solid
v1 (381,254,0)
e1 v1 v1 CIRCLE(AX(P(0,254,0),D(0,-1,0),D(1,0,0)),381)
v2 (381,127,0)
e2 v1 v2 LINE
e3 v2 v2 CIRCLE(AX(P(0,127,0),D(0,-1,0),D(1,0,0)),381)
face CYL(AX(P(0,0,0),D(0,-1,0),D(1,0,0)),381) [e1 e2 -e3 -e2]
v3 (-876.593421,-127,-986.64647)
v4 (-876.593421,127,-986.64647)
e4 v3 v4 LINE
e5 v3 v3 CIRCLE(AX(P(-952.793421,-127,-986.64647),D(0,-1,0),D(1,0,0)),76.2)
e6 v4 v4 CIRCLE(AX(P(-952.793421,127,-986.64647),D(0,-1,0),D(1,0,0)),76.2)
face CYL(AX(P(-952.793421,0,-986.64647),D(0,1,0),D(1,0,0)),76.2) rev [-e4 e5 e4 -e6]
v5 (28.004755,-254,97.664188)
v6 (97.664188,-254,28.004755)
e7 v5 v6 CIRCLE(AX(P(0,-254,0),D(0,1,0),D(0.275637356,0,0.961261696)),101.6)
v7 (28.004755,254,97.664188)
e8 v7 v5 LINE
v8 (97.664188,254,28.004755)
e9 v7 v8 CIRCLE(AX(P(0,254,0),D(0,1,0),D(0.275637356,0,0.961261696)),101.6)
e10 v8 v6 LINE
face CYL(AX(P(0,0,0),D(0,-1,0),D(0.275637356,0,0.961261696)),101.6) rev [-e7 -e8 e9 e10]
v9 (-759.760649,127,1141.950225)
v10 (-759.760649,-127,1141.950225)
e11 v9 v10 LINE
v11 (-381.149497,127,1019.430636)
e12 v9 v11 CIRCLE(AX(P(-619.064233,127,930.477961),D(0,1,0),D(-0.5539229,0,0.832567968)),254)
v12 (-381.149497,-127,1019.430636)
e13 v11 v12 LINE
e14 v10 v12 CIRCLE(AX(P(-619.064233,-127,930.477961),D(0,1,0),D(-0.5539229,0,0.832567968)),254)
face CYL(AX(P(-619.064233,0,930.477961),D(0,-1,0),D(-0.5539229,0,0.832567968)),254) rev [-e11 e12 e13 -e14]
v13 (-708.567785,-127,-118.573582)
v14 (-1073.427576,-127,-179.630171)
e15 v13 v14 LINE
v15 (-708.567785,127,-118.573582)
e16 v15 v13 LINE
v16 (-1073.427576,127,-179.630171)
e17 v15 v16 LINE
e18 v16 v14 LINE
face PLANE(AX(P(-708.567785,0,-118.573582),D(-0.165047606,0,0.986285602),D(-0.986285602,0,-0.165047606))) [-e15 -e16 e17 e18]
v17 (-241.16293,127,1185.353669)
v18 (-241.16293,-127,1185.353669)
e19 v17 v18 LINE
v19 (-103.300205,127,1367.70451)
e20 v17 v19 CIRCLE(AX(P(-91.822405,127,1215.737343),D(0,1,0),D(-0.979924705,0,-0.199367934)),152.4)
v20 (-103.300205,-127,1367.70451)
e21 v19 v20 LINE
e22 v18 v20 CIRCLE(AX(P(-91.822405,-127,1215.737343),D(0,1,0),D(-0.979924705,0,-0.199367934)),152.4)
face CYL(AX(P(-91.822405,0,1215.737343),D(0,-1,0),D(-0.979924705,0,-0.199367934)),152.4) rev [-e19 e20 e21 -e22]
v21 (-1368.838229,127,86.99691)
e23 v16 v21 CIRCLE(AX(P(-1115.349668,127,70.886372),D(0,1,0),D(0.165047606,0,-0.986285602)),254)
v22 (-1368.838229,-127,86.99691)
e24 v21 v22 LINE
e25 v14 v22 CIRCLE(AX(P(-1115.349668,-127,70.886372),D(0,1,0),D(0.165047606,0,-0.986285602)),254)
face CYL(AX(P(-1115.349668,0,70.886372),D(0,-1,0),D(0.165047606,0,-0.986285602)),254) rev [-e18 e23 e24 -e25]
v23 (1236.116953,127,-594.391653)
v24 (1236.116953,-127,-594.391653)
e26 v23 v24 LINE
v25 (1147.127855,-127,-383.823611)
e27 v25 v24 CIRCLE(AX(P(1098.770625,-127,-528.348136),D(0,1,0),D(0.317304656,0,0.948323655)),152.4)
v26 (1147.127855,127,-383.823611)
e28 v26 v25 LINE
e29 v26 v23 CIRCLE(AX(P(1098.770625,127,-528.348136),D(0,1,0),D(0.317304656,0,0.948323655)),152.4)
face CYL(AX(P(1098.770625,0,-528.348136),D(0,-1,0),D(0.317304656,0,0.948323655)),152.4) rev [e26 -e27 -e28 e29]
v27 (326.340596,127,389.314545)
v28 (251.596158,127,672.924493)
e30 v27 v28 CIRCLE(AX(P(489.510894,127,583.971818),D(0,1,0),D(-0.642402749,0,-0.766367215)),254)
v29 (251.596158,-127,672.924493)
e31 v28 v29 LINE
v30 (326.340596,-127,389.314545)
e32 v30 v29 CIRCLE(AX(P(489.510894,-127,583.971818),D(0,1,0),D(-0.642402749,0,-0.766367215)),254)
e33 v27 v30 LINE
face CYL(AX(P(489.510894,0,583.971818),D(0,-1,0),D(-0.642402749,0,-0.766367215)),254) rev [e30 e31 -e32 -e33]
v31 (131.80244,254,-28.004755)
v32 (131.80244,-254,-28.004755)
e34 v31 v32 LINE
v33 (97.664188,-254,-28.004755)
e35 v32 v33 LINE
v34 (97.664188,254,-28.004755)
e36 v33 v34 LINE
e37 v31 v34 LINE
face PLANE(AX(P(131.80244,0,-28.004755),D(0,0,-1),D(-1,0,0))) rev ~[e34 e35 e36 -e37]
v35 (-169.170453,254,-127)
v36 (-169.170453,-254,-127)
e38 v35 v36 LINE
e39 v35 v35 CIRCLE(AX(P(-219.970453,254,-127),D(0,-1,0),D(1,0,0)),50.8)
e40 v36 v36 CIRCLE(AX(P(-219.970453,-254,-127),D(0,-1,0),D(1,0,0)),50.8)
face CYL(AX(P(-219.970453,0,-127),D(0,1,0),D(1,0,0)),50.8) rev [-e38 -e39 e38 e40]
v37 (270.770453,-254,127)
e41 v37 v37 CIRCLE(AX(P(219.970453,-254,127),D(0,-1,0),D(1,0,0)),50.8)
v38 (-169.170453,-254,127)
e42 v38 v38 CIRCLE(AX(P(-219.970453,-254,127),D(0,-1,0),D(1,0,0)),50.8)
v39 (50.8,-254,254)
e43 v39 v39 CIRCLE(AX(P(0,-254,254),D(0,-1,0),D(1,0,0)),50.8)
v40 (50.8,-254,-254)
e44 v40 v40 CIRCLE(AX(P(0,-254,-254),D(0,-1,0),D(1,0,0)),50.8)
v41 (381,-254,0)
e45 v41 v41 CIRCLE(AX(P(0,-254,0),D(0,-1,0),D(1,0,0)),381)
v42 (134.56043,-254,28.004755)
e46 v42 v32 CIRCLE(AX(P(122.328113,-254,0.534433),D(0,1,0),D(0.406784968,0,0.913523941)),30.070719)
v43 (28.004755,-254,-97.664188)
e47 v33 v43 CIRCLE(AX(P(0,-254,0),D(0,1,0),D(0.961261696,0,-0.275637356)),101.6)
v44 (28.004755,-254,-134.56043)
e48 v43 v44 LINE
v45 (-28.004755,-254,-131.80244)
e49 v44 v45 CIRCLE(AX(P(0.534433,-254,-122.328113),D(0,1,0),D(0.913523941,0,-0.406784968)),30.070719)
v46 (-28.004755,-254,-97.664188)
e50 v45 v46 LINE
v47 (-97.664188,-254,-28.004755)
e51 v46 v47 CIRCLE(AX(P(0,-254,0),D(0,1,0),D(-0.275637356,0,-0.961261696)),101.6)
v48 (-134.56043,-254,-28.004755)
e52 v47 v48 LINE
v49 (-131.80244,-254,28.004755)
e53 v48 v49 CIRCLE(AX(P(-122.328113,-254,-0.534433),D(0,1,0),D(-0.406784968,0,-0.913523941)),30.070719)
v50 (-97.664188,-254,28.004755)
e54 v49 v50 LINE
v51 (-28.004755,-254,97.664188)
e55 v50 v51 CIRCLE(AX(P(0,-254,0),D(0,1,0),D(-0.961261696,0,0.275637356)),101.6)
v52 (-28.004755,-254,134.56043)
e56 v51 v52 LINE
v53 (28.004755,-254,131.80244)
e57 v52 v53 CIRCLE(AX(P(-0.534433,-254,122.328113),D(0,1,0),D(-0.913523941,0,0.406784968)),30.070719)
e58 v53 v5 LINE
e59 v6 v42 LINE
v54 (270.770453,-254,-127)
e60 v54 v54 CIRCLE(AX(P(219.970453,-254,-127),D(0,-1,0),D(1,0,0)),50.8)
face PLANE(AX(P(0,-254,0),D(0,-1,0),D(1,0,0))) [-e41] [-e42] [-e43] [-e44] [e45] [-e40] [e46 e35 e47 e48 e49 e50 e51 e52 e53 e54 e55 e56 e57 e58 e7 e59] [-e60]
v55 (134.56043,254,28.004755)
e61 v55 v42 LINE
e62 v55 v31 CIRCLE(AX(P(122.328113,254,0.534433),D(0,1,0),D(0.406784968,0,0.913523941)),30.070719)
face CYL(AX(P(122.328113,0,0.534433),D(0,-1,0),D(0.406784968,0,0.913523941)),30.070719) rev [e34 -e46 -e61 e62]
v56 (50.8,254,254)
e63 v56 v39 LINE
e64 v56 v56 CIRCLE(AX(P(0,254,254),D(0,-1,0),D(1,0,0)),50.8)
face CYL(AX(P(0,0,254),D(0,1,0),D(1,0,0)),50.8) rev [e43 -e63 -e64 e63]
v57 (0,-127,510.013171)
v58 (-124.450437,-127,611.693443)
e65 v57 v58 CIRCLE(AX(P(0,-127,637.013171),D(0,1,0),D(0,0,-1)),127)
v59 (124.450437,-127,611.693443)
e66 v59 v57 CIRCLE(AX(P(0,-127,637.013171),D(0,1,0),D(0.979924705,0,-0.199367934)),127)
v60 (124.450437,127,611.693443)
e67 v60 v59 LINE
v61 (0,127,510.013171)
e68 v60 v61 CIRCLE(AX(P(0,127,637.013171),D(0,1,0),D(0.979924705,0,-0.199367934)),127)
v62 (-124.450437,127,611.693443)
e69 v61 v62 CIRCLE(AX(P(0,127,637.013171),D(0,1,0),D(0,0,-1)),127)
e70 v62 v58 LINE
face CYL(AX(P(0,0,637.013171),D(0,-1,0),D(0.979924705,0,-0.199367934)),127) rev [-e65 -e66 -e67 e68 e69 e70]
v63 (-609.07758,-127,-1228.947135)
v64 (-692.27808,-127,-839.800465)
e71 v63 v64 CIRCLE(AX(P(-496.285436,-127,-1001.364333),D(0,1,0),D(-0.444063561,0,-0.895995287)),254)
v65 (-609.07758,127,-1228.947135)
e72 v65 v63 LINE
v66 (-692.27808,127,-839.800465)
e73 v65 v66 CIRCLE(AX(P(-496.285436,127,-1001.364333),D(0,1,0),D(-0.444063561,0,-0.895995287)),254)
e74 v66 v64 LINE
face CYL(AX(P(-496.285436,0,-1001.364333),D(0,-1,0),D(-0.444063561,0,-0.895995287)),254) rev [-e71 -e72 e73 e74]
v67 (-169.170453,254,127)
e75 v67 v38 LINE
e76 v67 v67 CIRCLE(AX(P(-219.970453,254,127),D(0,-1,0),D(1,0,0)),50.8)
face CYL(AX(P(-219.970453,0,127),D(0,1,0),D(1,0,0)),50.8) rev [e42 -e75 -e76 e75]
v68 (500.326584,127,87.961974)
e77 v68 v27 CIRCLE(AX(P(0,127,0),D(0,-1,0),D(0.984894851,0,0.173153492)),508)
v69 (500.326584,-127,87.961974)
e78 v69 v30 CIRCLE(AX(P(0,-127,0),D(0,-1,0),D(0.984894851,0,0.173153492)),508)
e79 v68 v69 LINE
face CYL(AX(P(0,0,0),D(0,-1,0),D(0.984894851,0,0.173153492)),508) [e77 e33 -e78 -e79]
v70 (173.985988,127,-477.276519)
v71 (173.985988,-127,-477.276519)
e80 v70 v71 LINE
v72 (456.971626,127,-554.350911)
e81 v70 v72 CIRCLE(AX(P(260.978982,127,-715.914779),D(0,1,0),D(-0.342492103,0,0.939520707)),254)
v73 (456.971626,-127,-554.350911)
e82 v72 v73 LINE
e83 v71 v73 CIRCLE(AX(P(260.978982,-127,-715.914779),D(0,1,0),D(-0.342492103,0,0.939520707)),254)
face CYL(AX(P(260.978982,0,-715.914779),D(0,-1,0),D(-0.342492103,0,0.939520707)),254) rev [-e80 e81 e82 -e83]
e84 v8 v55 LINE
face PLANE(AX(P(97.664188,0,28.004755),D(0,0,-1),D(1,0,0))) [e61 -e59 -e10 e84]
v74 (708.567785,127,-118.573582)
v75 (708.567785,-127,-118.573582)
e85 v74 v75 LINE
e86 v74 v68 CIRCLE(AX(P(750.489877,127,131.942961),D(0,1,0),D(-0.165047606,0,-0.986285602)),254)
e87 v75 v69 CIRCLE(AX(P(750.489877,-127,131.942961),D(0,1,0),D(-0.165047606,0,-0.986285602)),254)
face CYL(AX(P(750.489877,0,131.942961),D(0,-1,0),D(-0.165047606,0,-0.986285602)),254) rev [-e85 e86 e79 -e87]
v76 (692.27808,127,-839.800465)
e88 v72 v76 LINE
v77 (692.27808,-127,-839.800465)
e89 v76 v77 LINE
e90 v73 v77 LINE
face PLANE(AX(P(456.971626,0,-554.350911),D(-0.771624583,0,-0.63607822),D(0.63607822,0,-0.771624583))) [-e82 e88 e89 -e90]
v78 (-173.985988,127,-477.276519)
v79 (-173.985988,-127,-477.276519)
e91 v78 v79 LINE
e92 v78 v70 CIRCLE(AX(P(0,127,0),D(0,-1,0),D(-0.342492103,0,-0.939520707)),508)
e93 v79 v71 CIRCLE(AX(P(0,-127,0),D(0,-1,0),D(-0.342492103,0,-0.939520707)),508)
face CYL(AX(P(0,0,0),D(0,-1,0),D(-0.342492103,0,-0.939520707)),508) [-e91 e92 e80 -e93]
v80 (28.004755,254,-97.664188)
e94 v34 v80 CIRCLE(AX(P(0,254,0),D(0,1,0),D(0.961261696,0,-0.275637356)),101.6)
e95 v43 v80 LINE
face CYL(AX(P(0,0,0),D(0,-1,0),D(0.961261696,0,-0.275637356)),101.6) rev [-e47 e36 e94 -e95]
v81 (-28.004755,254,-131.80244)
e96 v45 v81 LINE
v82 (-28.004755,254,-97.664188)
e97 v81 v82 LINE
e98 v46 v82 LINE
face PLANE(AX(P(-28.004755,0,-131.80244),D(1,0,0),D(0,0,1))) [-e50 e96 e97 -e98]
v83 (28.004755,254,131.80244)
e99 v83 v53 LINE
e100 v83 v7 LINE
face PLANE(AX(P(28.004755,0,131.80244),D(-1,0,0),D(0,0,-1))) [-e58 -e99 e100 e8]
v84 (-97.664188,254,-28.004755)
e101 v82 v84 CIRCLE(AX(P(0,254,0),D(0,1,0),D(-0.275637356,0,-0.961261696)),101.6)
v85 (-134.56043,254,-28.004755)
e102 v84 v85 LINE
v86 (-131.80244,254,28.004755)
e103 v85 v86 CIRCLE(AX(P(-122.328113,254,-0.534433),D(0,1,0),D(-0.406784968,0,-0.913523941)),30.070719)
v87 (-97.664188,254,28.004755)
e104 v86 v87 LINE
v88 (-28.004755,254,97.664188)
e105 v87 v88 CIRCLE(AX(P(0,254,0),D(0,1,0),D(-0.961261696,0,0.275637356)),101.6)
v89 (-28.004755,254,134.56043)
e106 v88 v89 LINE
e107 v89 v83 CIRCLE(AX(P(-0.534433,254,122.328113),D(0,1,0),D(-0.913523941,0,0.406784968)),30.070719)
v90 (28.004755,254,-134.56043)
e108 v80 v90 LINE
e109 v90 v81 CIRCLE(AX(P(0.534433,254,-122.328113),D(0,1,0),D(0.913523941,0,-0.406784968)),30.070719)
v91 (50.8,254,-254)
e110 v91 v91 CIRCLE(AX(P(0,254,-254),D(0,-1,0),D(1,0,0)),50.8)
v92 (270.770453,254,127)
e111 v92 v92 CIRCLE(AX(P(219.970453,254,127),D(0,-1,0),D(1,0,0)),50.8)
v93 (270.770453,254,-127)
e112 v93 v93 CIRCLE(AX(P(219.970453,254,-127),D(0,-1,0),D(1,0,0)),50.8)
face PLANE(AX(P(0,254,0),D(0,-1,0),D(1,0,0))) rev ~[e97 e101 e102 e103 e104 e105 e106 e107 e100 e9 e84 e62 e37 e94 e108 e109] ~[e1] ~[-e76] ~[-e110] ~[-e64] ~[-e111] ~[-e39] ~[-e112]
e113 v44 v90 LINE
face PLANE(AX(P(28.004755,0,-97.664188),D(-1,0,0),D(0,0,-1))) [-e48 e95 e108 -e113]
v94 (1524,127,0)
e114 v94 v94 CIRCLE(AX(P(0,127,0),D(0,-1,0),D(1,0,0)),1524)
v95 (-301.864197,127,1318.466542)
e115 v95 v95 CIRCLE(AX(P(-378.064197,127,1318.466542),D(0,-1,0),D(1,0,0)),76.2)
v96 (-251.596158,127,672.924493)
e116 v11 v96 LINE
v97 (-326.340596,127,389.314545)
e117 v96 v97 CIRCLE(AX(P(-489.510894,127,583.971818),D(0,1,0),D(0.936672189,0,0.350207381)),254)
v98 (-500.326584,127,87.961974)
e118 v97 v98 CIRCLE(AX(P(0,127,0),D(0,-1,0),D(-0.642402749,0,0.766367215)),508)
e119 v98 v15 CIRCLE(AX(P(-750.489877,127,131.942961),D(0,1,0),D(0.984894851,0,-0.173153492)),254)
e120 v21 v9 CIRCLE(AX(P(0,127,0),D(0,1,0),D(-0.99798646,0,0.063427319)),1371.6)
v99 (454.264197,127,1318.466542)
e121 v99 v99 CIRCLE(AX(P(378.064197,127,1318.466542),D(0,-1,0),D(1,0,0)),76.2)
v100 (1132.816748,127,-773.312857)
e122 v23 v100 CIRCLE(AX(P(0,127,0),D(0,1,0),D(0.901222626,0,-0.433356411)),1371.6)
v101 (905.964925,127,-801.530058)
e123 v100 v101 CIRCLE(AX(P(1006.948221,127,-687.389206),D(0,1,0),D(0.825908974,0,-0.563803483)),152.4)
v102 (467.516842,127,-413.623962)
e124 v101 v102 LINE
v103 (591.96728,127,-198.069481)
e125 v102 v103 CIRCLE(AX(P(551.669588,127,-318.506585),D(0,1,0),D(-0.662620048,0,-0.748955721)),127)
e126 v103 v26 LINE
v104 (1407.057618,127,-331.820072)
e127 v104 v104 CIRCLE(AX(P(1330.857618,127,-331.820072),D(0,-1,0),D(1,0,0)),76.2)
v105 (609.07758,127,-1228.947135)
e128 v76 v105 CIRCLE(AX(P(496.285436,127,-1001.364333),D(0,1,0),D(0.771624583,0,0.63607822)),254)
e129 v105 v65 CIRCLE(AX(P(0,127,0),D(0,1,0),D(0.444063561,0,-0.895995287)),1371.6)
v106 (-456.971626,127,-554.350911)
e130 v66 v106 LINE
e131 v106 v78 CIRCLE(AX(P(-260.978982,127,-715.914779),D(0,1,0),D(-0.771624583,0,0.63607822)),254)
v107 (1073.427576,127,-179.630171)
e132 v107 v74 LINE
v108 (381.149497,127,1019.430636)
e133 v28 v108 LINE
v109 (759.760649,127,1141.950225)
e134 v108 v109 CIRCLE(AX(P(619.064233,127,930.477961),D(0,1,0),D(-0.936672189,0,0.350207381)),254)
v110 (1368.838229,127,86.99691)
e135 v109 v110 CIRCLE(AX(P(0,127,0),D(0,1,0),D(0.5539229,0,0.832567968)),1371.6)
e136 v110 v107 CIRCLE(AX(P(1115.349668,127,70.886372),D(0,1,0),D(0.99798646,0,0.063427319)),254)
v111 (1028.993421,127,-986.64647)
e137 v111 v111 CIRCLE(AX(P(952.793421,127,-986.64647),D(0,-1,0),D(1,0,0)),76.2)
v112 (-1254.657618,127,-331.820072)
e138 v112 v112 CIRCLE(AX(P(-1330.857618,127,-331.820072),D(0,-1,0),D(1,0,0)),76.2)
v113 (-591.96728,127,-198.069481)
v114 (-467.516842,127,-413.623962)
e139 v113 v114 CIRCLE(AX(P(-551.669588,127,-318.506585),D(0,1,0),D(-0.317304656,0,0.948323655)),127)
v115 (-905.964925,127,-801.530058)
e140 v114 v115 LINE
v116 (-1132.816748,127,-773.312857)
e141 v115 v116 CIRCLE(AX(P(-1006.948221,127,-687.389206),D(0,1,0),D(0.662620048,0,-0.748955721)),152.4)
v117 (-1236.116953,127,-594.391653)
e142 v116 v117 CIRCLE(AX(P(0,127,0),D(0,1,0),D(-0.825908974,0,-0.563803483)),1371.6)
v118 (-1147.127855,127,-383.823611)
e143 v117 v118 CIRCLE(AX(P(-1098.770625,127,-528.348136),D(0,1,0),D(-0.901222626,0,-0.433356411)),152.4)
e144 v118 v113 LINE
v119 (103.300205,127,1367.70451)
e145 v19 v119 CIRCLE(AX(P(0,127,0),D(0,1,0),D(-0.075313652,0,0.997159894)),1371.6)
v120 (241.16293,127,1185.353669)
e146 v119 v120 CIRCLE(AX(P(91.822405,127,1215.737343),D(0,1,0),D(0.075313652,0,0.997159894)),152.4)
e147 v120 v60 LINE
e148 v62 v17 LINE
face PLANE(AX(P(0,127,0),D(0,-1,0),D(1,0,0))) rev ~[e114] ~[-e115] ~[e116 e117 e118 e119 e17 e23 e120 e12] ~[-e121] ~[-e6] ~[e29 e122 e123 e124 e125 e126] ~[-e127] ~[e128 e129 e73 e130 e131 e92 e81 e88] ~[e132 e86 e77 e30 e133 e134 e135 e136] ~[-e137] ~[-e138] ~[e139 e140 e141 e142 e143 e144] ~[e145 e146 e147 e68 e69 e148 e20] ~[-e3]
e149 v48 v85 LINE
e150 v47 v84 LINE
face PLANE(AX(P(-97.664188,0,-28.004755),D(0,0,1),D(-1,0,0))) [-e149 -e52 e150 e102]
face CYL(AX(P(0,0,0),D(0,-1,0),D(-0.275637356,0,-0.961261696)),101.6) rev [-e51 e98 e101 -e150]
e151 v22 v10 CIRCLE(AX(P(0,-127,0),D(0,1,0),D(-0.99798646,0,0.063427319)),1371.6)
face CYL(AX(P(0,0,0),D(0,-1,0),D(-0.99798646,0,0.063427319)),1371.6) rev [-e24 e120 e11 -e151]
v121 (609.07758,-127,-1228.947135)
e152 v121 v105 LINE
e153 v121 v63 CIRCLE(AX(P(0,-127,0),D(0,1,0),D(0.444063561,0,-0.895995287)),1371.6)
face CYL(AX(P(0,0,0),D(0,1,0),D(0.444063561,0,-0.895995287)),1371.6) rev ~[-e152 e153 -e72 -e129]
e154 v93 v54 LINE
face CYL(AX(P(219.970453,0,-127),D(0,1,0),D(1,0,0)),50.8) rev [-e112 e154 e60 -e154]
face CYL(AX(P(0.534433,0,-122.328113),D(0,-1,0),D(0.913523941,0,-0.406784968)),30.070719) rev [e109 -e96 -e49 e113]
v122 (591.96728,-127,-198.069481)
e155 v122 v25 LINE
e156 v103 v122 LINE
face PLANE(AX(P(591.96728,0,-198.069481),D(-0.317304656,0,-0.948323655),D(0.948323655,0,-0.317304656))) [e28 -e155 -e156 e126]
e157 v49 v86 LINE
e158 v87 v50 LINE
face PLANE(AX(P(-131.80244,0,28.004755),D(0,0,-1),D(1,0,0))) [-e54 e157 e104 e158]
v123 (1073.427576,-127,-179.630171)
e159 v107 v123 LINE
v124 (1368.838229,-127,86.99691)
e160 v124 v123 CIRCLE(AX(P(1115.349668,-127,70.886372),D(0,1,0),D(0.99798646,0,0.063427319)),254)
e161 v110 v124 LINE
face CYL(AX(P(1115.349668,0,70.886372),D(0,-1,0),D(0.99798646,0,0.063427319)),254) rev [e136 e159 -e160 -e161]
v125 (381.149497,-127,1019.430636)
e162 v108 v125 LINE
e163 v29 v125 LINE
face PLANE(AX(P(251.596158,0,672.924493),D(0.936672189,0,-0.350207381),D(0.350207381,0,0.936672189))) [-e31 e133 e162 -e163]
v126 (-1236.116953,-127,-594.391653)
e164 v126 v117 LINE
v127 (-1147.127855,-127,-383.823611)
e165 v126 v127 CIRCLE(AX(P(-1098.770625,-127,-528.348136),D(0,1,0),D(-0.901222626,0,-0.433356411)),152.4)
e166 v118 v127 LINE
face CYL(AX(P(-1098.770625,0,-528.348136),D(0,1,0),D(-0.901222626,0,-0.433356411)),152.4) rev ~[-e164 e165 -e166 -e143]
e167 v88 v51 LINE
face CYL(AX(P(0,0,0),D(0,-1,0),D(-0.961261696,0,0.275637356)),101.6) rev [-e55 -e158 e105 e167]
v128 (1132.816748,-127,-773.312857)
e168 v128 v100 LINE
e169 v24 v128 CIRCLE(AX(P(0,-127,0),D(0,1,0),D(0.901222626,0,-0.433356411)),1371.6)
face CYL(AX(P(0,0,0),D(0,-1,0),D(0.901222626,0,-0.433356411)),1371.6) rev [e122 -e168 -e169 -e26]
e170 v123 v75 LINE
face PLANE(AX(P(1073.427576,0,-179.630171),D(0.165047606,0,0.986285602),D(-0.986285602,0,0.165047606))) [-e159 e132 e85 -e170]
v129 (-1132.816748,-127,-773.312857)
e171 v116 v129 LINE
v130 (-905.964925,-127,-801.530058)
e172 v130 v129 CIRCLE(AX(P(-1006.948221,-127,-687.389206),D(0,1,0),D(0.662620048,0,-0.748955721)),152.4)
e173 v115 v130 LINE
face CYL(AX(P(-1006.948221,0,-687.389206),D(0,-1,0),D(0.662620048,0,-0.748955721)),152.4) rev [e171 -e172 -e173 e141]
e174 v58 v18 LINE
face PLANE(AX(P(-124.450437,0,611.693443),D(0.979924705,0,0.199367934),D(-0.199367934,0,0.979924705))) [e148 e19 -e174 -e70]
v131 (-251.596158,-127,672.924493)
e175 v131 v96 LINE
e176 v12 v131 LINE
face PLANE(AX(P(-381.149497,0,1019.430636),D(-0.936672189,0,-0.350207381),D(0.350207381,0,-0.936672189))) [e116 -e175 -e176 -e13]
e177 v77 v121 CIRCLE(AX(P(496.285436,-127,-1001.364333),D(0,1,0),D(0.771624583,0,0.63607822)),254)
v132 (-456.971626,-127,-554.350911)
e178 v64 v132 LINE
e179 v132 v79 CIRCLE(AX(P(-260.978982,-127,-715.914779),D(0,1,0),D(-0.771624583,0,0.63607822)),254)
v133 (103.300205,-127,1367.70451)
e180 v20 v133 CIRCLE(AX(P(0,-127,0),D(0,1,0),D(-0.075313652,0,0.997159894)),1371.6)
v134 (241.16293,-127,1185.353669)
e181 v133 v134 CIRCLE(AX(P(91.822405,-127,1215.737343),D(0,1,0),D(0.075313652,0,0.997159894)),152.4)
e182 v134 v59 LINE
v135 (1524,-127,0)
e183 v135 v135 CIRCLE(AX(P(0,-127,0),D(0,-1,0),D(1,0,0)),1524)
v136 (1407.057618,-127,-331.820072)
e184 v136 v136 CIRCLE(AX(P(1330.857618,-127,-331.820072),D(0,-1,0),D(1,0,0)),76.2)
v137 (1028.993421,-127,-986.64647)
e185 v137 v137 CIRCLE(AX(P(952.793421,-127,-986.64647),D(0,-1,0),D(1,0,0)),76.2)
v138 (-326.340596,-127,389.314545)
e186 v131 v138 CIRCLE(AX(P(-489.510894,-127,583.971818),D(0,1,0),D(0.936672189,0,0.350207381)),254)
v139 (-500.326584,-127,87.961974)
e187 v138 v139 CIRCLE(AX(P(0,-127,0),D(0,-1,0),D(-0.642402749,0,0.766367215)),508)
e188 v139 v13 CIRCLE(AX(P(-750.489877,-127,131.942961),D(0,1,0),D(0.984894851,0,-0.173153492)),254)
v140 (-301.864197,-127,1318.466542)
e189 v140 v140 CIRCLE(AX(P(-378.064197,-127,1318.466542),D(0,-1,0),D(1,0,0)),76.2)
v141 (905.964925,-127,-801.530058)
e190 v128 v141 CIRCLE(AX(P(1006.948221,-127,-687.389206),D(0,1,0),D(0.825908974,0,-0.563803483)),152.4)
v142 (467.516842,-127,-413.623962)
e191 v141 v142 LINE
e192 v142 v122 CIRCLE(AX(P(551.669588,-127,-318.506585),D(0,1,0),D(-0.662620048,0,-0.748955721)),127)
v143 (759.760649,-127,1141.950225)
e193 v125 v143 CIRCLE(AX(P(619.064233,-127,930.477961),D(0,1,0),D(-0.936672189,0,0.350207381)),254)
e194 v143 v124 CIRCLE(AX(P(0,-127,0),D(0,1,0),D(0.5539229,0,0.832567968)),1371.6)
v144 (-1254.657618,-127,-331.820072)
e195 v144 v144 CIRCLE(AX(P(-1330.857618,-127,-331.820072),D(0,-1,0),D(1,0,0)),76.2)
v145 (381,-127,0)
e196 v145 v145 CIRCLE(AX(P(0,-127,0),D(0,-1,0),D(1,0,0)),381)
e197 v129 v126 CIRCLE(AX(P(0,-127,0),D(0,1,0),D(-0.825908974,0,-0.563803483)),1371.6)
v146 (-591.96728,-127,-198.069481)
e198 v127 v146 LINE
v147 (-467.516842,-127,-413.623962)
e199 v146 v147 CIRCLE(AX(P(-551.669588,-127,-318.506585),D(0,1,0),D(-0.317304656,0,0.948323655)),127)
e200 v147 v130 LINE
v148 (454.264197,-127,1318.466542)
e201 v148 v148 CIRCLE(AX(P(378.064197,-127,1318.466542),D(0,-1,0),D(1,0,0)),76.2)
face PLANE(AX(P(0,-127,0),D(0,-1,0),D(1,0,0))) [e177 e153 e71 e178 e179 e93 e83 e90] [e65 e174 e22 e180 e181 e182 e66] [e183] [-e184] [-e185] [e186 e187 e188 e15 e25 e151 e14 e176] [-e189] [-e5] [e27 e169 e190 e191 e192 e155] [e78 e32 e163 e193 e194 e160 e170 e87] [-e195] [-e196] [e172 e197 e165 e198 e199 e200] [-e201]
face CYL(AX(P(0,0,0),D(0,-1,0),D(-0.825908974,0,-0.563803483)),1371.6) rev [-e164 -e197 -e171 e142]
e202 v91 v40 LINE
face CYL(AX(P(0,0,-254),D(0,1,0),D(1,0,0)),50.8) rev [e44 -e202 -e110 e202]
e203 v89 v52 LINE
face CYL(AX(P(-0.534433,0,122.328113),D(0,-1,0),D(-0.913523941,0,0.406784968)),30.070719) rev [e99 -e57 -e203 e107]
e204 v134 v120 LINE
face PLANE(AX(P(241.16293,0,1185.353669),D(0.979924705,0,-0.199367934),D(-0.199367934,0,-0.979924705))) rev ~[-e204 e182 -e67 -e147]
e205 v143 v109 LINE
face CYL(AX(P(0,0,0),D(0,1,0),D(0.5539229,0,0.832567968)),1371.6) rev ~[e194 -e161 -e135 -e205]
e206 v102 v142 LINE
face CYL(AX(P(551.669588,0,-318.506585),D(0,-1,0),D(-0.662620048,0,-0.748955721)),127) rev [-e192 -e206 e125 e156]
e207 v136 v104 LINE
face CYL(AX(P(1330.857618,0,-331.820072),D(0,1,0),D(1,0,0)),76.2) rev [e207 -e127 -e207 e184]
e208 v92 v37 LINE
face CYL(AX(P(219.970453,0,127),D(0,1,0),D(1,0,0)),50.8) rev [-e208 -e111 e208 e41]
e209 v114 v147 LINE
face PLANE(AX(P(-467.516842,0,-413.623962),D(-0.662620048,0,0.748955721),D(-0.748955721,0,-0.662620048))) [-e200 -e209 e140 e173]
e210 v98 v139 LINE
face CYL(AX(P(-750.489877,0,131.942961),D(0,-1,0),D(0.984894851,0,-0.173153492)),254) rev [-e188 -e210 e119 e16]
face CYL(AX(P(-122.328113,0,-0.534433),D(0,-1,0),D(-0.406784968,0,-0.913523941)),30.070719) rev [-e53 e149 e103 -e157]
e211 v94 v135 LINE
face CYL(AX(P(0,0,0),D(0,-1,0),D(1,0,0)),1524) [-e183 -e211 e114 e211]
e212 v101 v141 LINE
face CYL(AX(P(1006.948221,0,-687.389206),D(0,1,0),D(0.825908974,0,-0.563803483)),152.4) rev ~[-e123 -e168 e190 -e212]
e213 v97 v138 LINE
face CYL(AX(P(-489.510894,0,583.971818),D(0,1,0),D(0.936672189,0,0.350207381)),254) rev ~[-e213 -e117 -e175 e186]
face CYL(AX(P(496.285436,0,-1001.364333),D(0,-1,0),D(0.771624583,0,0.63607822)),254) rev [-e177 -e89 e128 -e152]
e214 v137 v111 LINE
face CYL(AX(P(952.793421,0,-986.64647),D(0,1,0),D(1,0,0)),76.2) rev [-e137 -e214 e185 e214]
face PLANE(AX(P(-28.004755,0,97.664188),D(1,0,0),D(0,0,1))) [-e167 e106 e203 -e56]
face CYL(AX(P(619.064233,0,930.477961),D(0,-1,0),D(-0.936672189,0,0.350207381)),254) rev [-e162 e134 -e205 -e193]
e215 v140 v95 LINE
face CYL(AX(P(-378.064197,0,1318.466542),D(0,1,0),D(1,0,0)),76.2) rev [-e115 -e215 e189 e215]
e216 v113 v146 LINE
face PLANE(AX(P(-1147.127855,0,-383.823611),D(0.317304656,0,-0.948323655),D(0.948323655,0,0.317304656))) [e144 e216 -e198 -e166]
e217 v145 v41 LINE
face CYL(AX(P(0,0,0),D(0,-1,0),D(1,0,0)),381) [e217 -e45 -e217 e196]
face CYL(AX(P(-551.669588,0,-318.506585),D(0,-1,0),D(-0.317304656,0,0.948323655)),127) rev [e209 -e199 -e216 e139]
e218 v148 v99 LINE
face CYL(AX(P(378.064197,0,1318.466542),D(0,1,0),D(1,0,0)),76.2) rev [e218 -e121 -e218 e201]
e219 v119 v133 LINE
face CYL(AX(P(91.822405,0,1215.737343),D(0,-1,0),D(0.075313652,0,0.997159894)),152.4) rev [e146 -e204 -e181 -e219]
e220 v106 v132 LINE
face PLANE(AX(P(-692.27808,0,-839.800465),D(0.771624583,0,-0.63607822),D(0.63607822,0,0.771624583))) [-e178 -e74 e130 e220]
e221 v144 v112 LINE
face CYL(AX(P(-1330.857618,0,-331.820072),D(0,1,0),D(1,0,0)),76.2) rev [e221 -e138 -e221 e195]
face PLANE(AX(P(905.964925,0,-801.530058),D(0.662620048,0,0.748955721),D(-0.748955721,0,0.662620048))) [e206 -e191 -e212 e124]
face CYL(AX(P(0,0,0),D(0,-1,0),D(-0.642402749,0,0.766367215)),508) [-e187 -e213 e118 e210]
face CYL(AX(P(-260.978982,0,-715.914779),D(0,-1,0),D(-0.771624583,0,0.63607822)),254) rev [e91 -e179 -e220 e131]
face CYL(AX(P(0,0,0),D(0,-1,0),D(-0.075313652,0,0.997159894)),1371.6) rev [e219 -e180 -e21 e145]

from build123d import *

# Parameters (mm, degrees)
F0_R     = 1524
F0_R_2   = 76.2
F0_R_3   = 381
F0_R_4   = 50.8
F1_DEPTH = 127
F2_DEPTH = 254


with BuildPart() as f1:
    # F0 (on Front) → F1 (new body, symmetric)
    with BuildSketch(Plane.XZ):
        Circle(F0_R)
        with Locations((-952.7934209216, -986.6464701445)):
            Circle(F0_R_2, mode=Mode.SUBTRACT)
        with BuildLine():
            ThreePointArc((-905.9649252706, -801.5300581884), (-1025.7596879891, -838.6237549571), (-1132.816748196, -773.3128571327))
            ThreePointArc((-1132.816748196, -773.3128571327), (-1187.8404438307, -685.8), (-1236.116953448, -594.3916532038))
            ThreePointArc((-1236.116953448, -594.3916532038), (-1239.1493200045, -469.022070498), (-1147.1278549233, -383.8236111278))
            Line((-1147.1278549233, -383.8236111278), (-591.9672795655, -198.069481041))
            ThreePointArc((-591.9672795655, -198.069481041), (-441.6843619214, -255.0065852522), (-467.5168420786, -413.6239617924))
            Line((-467.5168420786, -413.6239617924), (-905.9649252706, -801.5300581884))
        make_face(mode=Mode.SUBTRACT)
        with Locations((-1330.8576181602, -331.8200720045)):
            Circle(F0_R_2, mode=Mode.SUBTRACT)
        with BuildLine():
            ThreePointArc((173.9859882065, -477.2765193342), (327.7273635176, -470.8420273415), (456.9716264903, -554.3509110508))
            Line((456.9716264903, -554.3509110508), (692.2780797644, -839.8004645615))
            ThreePointArc((692.2780797644, -839.8004645615), (744.6718165916, -1054.4699417253), (609.0775800349, -1228.9471353557))
            ThreePointArc((609.0775800349, -1228.9471353557), (0, -1371.6), (-609.0775800349, -1228.9471353557))
            ThreePointArc((-609.0775800349, -1228.9471353557), (-744.6718165916, -1054.4699417253), (-692.2780797644, -839.8004645615))
            Line((-692.2780797644, -839.8004645615), (-456.9716264903, -554.3509110508))
            ThreePointArc((-456.9716264903, -554.3509110508), (-327.7273635176, -470.8420273415), (-173.9859882065, -477.2765193342))
            ThreePointArc((-173.9859882065, -477.2765193342), (0, -508), (173.9859882065, -477.2765193342))
        make_face(mode=Mode.SUBTRACT)
        with Locations((952.7934209216, -986.6464701445)):
            Circle(F0_R_2, mode=Mode.SUBTRACT)
        with BuildLine():
            ThreePointArc((1147.1278549233, -383.8236111278), (1239.1493200045, -469.022070498), (1236.116953448, -594.3916532039))
            ThreePointArc((1236.116953448, -594.3916532039), (1187.8404438307, -685.8), (1132.816748196, -773.3128571327))
            ThreePointArc((1132.816748196, -773.3128571327), (1025.7596879891, -838.6237549571), (905.9649252706, -801.5300581884))
            Line((905.9649252706, -801.5300581884), (467.5168420786, -413.6239617924))
            ThreePointArc((467.5168420786, -413.6239617924), (441.6843619214, -255.0065852522), (591.9672795655, -198.069481041))
            Line((591.9672795655, -198.069481041), (1147.1278549233, -383.8236111278))
        make_face(mode=Mode.SUBTRACT)
        with Locations((1330.8576181602, -331.8200720045)):
            Circle(F0_R_2, mode=Mode.SUBTRACT)
        with BuildLine():
            ThreePointArc((-1368.8382291435, 86.9969104921), (-1187.8404438307, 685.8), (-759.7606491087, 1141.9502248636))
            ThreePointArc((-759.7606491087, 1141.9502248636), (-540.8618487654, 1172.1396815133), (-381.149496538, 1019.4306358399))
            Line((-381.149496538, 1019.4306358399), (-251.5961583359, 672.9244928747))
            ThreePointArc((-251.5961583359, 672.9244928747), (-243.8974750883, 519.2412359922), (-326.34059627, 389.3145453565))
            ThreePointArc((-326.34059627, 389.3145453565), (-439.9409051225, 254), (-500.3265844765, 87.9619739777))
            ThreePointArc((-500.3265844765, 87.9619739777), (-571.6248386059, -48.3992086508), (-708.5677848262, -118.5735818239))
            Line((-708.5677848262, -118.5735818239), (-1073.4275763024, -179.6301712784))
            ThreePointArc((-1073.4275763024, -179.6301712784), (-1285.533665357, -117.669739788), (-1368.8382291435, 86.9969104921))
        make_face(mode=Mode.SUBTRACT)
        with BuildLine():
            ThreePointArc((-103.300205252, 1367.7045103365), (0, 1371.6), (103.300205252, 1367.7045103365))
            ThreePointArc((103.300205252, 1367.7045103365), (213.3896320154, 1307.6458254551), (241.1629296527, 1185.3536693162))
            Line((241.1629296527, 1185.3536693162), (124.4504374868, 611.6934428334))
            ThreePointArc((124.4504374868, 611.6934428334), (80.3535767274, 538.6653047059), (0, 510.0131705043))
            ThreePointArc((0, 510.0131705043), (-80.3535767274, 538.6653047059), (-124.4504374868, 611.6934428334))
            Line((-124.4504374868, 611.6934428334), (-241.1629296527, 1185.3536693162))
            ThreePointArc((-241.1629296527, 1185.3536693162), (-213.3896320154, 1307.6458254551), (-103.300205252, 1367.7045103365))
        make_face(mode=Mode.SUBTRACT)
        with Locations((-378.0641972386, 1318.466542149)):
            Circle(F0_R_2, mode=Mode.SUBTRACT)
        Circle(F0_R_3, mode=Mode.SUBTRACT)
        with BuildLine():
            ThreePointArc((326.34059627, 389.3145453565), (243.8974750883, 519.2412359922), (251.5961583359, 672.9244928747))
            Line((251.5961583359, 672.9244928747), (381.149496538, 1019.4306358399))
            ThreePointArc((381.149496538, 1019.4306358399), (540.8618487654, 1172.1396815133), (759.7606491087, 1141.9502248636))
            ThreePointArc((759.7606491087, 1141.9502248636), (1187.8404438307, 685.8), (1368.8382291435, 86.9969104921))
            ThreePointArc((1368.8382291435, 86.9969104921), (1285.533665357, -117.669739788), (1073.4275763024, -179.6301712784))
            Line((1073.4275763024, -179.6301712784), (708.5677848262, -118.5735818239))
            ThreePointArc((708.5677848262, -118.5735818239), (571.6248386059, -48.3992086508), (500.3265844765, 87.9619739777))
            ThreePointArc((500.3265844765, 87.9619739777), (439.9409051225, 254), (326.34059627, 389.3145453565))
        make_face(mode=Mode.SUBTRACT)
        with Locations((378.0641972386, 1318.466542149)):
            Circle(F0_R_2, mode=Mode.SUBTRACT)
        Circle(F0_R_3)
        with Locations((-219.9704525612, -127)):
            Circle(F0_R_4, mode=Mode.SUBTRACT)
        with Locations((0, -254)):
            Circle(F0_R_4, mode=Mode.SUBTRACT)
        with Locations((219.9704525612, -127)):
            Circle(F0_R_4, mode=Mode.SUBTRACT)
        with Locations((-219.9704525612, 127)):
            Circle(F0_R_4, mode=Mode.SUBTRACT)
        with BuildLine():
            ThreePointArc((-97.6641883073, 28.004755351), (-71.8420489686, 71.8420489686), (-28.004755351, 97.6641883073))
            Line((-28.004755351, 97.6641883073), (-28.004755351, 134.5604298966))
            ThreePointArc((-28.004755351, 134.5604298966), (0.9445008511, 152.3624421781), (28.004755351, 131.8024396896))
            Line((28.004755351, 131.8024396896), (28.004755351, 97.6641883073))
            ThreePointArc((28.004755351, 97.6641883073), (71.8420489686, 71.8420489686), (97.6641883073, 28.004755351))
            Line((97.6641883073, 28.004755351), (134.5604298966, 28.004755351))
            ThreePointArc((134.5604298966, 28.004755351), (152.3624421781, -0.9445008511), (131.8024396896, -28.004755351))
            Line((131.8024396896, -28.004755351), (97.6641883073, -28.004755351))
            ThreePointArc((97.6641883073, -28.004755351), (71.8420489686, -71.8420489686), (28.004755351, -97.6641883073))
            Line((28.004755351, -97.6641883073), (28.004755351, -134.5604298966))
            ThreePointArc((28.004755351, -134.5604298966), (16.9665053345, -147.5121393864), (0.6658066859, -152.3985456015))
            ThreePointArc((0.6658066859, -152.3985456015), (-17.0098217689, -146.750383203), (-28.004755351, -131.8024396896))
            Line((-28.004755351, -131.8024396896), (-28.004755351, -97.6641883073))
            ThreePointArc((-28.004755351, -97.6641883073), (-71.8420489686, -71.8420489686), (-97.6641883073, -28.004755351))
            Line((-97.6641883073, -28.004755351), (-134.5604298966, -28.004755351))
            ThreePointArc((-134.5604298966, -28.004755351), (-152.3624421781, 0.9445008511), (-131.8024396896, 28.004755351))
            Line((-131.8024396896, 28.004755351), (-97.6641883073, 28.004755351))
        make_face(mode=Mode.SUBTRACT)
        with Locations((219.9704525612, 127)):
            Circle(F0_R_4, mode=Mode.SUBTRACT)
        with Locations((0, 254)):
            Circle(F0_R_4, mode=Mode.SUBTRACT)
    extrude(amount=F1_DEPTH, both=True)

    # F0 (on Front) → F2 (join, symmetric)
    with BuildSketch(Plane.XZ):
        Circle(F0_R_3)
        with Locations((-219.9704525612, -127)):
            Circle(F0_R_4, mode=Mode.SUBTRACT)
        with Locations((0, -254)):
            Circle(F0_R_4, mode=Mode.SUBTRACT)
        with Locations((219.9704525612, -127)):
            Circle(F0_R_4, mode=Mode.SUBTRACT)
        with Locations((-219.9704525612, 127)):
            Circle(F0_R_4, mode=Mode.SUBTRACT)
        with BuildLine():
            ThreePointArc((-97.6641883073, 28.004755351), (-71.8420489686, 71.8420489686), (-28.004755351, 97.6641883073))
            Line((-28.004755351, 97.6641883073), (-28.004755351, 134.5604298966))
            ThreePointArc((-28.004755351, 134.5604298966), (0.9445008511, 152.3624421781), (28.004755351, 131.8024396896))
            Line((28.004755351, 131.8024396896), (28.004755351, 97.6641883073))
            ThreePointArc((28.004755351, 97.6641883073), (71.8420489686, 71.8420489686), (97.6641883073, 28.004755351))
            Line((97.6641883073, 28.004755351), (134.5604298966, 28.004755351))
            ThreePointArc((134.5604298966, 28.004755351), (152.3624421781, -0.9445008511), (131.8024396896, -28.004755351))
            Line((131.8024396896, -28.004755351), (97.6641883073, -28.004755351))
            ThreePointArc((97.6641883073, -28.004755351), (71.8420489686, -71.8420489686), (28.004755351, -97.6641883073))
            Line((28.004755351, -97.6641883073), (28.004755351, -134.5604298966))
            ThreePointArc((28.004755351, -134.5604298966), (16.9665053345, -147.5121393864), (0.6658066859, -152.3985456015))
            ThreePointArc((0.6658066859, -152.3985456015), (-17.0098217689, -146.750383203), (-28.004755351, -131.8024396896))
            Line((-28.004755351, -131.8024396896), (-28.004755351, -97.6641883073))
            ThreePointArc((-28.004755351, -97.6641883073), (-71.8420489686, -71.8420489686), (-97.6641883073, -28.004755351))
            Line((-97.6641883073, -28.004755351), (-134.5604298966, -28.004755351))
            ThreePointArc((-134.5604298966, -28.004755351), (-152.3624421781, 0.9445008511), (-131.8024396896, 28.004755351))
            Line((-131.8024396896, 28.004755351), (-97.6641883073, 28.004755351))
        make_face(mode=Mode.SUBTRACT)
        with Locations((219.9704525612, 127)):
            Circle(F0_R_4, mode=Mode.SUBTRACT)
        with Locations((0, 254)):
            Circle(F0_R_4, mode=Mode.SUBTRACT)
    extrude(amount=F2_DEPTH, both=True)


solid = f1.part
